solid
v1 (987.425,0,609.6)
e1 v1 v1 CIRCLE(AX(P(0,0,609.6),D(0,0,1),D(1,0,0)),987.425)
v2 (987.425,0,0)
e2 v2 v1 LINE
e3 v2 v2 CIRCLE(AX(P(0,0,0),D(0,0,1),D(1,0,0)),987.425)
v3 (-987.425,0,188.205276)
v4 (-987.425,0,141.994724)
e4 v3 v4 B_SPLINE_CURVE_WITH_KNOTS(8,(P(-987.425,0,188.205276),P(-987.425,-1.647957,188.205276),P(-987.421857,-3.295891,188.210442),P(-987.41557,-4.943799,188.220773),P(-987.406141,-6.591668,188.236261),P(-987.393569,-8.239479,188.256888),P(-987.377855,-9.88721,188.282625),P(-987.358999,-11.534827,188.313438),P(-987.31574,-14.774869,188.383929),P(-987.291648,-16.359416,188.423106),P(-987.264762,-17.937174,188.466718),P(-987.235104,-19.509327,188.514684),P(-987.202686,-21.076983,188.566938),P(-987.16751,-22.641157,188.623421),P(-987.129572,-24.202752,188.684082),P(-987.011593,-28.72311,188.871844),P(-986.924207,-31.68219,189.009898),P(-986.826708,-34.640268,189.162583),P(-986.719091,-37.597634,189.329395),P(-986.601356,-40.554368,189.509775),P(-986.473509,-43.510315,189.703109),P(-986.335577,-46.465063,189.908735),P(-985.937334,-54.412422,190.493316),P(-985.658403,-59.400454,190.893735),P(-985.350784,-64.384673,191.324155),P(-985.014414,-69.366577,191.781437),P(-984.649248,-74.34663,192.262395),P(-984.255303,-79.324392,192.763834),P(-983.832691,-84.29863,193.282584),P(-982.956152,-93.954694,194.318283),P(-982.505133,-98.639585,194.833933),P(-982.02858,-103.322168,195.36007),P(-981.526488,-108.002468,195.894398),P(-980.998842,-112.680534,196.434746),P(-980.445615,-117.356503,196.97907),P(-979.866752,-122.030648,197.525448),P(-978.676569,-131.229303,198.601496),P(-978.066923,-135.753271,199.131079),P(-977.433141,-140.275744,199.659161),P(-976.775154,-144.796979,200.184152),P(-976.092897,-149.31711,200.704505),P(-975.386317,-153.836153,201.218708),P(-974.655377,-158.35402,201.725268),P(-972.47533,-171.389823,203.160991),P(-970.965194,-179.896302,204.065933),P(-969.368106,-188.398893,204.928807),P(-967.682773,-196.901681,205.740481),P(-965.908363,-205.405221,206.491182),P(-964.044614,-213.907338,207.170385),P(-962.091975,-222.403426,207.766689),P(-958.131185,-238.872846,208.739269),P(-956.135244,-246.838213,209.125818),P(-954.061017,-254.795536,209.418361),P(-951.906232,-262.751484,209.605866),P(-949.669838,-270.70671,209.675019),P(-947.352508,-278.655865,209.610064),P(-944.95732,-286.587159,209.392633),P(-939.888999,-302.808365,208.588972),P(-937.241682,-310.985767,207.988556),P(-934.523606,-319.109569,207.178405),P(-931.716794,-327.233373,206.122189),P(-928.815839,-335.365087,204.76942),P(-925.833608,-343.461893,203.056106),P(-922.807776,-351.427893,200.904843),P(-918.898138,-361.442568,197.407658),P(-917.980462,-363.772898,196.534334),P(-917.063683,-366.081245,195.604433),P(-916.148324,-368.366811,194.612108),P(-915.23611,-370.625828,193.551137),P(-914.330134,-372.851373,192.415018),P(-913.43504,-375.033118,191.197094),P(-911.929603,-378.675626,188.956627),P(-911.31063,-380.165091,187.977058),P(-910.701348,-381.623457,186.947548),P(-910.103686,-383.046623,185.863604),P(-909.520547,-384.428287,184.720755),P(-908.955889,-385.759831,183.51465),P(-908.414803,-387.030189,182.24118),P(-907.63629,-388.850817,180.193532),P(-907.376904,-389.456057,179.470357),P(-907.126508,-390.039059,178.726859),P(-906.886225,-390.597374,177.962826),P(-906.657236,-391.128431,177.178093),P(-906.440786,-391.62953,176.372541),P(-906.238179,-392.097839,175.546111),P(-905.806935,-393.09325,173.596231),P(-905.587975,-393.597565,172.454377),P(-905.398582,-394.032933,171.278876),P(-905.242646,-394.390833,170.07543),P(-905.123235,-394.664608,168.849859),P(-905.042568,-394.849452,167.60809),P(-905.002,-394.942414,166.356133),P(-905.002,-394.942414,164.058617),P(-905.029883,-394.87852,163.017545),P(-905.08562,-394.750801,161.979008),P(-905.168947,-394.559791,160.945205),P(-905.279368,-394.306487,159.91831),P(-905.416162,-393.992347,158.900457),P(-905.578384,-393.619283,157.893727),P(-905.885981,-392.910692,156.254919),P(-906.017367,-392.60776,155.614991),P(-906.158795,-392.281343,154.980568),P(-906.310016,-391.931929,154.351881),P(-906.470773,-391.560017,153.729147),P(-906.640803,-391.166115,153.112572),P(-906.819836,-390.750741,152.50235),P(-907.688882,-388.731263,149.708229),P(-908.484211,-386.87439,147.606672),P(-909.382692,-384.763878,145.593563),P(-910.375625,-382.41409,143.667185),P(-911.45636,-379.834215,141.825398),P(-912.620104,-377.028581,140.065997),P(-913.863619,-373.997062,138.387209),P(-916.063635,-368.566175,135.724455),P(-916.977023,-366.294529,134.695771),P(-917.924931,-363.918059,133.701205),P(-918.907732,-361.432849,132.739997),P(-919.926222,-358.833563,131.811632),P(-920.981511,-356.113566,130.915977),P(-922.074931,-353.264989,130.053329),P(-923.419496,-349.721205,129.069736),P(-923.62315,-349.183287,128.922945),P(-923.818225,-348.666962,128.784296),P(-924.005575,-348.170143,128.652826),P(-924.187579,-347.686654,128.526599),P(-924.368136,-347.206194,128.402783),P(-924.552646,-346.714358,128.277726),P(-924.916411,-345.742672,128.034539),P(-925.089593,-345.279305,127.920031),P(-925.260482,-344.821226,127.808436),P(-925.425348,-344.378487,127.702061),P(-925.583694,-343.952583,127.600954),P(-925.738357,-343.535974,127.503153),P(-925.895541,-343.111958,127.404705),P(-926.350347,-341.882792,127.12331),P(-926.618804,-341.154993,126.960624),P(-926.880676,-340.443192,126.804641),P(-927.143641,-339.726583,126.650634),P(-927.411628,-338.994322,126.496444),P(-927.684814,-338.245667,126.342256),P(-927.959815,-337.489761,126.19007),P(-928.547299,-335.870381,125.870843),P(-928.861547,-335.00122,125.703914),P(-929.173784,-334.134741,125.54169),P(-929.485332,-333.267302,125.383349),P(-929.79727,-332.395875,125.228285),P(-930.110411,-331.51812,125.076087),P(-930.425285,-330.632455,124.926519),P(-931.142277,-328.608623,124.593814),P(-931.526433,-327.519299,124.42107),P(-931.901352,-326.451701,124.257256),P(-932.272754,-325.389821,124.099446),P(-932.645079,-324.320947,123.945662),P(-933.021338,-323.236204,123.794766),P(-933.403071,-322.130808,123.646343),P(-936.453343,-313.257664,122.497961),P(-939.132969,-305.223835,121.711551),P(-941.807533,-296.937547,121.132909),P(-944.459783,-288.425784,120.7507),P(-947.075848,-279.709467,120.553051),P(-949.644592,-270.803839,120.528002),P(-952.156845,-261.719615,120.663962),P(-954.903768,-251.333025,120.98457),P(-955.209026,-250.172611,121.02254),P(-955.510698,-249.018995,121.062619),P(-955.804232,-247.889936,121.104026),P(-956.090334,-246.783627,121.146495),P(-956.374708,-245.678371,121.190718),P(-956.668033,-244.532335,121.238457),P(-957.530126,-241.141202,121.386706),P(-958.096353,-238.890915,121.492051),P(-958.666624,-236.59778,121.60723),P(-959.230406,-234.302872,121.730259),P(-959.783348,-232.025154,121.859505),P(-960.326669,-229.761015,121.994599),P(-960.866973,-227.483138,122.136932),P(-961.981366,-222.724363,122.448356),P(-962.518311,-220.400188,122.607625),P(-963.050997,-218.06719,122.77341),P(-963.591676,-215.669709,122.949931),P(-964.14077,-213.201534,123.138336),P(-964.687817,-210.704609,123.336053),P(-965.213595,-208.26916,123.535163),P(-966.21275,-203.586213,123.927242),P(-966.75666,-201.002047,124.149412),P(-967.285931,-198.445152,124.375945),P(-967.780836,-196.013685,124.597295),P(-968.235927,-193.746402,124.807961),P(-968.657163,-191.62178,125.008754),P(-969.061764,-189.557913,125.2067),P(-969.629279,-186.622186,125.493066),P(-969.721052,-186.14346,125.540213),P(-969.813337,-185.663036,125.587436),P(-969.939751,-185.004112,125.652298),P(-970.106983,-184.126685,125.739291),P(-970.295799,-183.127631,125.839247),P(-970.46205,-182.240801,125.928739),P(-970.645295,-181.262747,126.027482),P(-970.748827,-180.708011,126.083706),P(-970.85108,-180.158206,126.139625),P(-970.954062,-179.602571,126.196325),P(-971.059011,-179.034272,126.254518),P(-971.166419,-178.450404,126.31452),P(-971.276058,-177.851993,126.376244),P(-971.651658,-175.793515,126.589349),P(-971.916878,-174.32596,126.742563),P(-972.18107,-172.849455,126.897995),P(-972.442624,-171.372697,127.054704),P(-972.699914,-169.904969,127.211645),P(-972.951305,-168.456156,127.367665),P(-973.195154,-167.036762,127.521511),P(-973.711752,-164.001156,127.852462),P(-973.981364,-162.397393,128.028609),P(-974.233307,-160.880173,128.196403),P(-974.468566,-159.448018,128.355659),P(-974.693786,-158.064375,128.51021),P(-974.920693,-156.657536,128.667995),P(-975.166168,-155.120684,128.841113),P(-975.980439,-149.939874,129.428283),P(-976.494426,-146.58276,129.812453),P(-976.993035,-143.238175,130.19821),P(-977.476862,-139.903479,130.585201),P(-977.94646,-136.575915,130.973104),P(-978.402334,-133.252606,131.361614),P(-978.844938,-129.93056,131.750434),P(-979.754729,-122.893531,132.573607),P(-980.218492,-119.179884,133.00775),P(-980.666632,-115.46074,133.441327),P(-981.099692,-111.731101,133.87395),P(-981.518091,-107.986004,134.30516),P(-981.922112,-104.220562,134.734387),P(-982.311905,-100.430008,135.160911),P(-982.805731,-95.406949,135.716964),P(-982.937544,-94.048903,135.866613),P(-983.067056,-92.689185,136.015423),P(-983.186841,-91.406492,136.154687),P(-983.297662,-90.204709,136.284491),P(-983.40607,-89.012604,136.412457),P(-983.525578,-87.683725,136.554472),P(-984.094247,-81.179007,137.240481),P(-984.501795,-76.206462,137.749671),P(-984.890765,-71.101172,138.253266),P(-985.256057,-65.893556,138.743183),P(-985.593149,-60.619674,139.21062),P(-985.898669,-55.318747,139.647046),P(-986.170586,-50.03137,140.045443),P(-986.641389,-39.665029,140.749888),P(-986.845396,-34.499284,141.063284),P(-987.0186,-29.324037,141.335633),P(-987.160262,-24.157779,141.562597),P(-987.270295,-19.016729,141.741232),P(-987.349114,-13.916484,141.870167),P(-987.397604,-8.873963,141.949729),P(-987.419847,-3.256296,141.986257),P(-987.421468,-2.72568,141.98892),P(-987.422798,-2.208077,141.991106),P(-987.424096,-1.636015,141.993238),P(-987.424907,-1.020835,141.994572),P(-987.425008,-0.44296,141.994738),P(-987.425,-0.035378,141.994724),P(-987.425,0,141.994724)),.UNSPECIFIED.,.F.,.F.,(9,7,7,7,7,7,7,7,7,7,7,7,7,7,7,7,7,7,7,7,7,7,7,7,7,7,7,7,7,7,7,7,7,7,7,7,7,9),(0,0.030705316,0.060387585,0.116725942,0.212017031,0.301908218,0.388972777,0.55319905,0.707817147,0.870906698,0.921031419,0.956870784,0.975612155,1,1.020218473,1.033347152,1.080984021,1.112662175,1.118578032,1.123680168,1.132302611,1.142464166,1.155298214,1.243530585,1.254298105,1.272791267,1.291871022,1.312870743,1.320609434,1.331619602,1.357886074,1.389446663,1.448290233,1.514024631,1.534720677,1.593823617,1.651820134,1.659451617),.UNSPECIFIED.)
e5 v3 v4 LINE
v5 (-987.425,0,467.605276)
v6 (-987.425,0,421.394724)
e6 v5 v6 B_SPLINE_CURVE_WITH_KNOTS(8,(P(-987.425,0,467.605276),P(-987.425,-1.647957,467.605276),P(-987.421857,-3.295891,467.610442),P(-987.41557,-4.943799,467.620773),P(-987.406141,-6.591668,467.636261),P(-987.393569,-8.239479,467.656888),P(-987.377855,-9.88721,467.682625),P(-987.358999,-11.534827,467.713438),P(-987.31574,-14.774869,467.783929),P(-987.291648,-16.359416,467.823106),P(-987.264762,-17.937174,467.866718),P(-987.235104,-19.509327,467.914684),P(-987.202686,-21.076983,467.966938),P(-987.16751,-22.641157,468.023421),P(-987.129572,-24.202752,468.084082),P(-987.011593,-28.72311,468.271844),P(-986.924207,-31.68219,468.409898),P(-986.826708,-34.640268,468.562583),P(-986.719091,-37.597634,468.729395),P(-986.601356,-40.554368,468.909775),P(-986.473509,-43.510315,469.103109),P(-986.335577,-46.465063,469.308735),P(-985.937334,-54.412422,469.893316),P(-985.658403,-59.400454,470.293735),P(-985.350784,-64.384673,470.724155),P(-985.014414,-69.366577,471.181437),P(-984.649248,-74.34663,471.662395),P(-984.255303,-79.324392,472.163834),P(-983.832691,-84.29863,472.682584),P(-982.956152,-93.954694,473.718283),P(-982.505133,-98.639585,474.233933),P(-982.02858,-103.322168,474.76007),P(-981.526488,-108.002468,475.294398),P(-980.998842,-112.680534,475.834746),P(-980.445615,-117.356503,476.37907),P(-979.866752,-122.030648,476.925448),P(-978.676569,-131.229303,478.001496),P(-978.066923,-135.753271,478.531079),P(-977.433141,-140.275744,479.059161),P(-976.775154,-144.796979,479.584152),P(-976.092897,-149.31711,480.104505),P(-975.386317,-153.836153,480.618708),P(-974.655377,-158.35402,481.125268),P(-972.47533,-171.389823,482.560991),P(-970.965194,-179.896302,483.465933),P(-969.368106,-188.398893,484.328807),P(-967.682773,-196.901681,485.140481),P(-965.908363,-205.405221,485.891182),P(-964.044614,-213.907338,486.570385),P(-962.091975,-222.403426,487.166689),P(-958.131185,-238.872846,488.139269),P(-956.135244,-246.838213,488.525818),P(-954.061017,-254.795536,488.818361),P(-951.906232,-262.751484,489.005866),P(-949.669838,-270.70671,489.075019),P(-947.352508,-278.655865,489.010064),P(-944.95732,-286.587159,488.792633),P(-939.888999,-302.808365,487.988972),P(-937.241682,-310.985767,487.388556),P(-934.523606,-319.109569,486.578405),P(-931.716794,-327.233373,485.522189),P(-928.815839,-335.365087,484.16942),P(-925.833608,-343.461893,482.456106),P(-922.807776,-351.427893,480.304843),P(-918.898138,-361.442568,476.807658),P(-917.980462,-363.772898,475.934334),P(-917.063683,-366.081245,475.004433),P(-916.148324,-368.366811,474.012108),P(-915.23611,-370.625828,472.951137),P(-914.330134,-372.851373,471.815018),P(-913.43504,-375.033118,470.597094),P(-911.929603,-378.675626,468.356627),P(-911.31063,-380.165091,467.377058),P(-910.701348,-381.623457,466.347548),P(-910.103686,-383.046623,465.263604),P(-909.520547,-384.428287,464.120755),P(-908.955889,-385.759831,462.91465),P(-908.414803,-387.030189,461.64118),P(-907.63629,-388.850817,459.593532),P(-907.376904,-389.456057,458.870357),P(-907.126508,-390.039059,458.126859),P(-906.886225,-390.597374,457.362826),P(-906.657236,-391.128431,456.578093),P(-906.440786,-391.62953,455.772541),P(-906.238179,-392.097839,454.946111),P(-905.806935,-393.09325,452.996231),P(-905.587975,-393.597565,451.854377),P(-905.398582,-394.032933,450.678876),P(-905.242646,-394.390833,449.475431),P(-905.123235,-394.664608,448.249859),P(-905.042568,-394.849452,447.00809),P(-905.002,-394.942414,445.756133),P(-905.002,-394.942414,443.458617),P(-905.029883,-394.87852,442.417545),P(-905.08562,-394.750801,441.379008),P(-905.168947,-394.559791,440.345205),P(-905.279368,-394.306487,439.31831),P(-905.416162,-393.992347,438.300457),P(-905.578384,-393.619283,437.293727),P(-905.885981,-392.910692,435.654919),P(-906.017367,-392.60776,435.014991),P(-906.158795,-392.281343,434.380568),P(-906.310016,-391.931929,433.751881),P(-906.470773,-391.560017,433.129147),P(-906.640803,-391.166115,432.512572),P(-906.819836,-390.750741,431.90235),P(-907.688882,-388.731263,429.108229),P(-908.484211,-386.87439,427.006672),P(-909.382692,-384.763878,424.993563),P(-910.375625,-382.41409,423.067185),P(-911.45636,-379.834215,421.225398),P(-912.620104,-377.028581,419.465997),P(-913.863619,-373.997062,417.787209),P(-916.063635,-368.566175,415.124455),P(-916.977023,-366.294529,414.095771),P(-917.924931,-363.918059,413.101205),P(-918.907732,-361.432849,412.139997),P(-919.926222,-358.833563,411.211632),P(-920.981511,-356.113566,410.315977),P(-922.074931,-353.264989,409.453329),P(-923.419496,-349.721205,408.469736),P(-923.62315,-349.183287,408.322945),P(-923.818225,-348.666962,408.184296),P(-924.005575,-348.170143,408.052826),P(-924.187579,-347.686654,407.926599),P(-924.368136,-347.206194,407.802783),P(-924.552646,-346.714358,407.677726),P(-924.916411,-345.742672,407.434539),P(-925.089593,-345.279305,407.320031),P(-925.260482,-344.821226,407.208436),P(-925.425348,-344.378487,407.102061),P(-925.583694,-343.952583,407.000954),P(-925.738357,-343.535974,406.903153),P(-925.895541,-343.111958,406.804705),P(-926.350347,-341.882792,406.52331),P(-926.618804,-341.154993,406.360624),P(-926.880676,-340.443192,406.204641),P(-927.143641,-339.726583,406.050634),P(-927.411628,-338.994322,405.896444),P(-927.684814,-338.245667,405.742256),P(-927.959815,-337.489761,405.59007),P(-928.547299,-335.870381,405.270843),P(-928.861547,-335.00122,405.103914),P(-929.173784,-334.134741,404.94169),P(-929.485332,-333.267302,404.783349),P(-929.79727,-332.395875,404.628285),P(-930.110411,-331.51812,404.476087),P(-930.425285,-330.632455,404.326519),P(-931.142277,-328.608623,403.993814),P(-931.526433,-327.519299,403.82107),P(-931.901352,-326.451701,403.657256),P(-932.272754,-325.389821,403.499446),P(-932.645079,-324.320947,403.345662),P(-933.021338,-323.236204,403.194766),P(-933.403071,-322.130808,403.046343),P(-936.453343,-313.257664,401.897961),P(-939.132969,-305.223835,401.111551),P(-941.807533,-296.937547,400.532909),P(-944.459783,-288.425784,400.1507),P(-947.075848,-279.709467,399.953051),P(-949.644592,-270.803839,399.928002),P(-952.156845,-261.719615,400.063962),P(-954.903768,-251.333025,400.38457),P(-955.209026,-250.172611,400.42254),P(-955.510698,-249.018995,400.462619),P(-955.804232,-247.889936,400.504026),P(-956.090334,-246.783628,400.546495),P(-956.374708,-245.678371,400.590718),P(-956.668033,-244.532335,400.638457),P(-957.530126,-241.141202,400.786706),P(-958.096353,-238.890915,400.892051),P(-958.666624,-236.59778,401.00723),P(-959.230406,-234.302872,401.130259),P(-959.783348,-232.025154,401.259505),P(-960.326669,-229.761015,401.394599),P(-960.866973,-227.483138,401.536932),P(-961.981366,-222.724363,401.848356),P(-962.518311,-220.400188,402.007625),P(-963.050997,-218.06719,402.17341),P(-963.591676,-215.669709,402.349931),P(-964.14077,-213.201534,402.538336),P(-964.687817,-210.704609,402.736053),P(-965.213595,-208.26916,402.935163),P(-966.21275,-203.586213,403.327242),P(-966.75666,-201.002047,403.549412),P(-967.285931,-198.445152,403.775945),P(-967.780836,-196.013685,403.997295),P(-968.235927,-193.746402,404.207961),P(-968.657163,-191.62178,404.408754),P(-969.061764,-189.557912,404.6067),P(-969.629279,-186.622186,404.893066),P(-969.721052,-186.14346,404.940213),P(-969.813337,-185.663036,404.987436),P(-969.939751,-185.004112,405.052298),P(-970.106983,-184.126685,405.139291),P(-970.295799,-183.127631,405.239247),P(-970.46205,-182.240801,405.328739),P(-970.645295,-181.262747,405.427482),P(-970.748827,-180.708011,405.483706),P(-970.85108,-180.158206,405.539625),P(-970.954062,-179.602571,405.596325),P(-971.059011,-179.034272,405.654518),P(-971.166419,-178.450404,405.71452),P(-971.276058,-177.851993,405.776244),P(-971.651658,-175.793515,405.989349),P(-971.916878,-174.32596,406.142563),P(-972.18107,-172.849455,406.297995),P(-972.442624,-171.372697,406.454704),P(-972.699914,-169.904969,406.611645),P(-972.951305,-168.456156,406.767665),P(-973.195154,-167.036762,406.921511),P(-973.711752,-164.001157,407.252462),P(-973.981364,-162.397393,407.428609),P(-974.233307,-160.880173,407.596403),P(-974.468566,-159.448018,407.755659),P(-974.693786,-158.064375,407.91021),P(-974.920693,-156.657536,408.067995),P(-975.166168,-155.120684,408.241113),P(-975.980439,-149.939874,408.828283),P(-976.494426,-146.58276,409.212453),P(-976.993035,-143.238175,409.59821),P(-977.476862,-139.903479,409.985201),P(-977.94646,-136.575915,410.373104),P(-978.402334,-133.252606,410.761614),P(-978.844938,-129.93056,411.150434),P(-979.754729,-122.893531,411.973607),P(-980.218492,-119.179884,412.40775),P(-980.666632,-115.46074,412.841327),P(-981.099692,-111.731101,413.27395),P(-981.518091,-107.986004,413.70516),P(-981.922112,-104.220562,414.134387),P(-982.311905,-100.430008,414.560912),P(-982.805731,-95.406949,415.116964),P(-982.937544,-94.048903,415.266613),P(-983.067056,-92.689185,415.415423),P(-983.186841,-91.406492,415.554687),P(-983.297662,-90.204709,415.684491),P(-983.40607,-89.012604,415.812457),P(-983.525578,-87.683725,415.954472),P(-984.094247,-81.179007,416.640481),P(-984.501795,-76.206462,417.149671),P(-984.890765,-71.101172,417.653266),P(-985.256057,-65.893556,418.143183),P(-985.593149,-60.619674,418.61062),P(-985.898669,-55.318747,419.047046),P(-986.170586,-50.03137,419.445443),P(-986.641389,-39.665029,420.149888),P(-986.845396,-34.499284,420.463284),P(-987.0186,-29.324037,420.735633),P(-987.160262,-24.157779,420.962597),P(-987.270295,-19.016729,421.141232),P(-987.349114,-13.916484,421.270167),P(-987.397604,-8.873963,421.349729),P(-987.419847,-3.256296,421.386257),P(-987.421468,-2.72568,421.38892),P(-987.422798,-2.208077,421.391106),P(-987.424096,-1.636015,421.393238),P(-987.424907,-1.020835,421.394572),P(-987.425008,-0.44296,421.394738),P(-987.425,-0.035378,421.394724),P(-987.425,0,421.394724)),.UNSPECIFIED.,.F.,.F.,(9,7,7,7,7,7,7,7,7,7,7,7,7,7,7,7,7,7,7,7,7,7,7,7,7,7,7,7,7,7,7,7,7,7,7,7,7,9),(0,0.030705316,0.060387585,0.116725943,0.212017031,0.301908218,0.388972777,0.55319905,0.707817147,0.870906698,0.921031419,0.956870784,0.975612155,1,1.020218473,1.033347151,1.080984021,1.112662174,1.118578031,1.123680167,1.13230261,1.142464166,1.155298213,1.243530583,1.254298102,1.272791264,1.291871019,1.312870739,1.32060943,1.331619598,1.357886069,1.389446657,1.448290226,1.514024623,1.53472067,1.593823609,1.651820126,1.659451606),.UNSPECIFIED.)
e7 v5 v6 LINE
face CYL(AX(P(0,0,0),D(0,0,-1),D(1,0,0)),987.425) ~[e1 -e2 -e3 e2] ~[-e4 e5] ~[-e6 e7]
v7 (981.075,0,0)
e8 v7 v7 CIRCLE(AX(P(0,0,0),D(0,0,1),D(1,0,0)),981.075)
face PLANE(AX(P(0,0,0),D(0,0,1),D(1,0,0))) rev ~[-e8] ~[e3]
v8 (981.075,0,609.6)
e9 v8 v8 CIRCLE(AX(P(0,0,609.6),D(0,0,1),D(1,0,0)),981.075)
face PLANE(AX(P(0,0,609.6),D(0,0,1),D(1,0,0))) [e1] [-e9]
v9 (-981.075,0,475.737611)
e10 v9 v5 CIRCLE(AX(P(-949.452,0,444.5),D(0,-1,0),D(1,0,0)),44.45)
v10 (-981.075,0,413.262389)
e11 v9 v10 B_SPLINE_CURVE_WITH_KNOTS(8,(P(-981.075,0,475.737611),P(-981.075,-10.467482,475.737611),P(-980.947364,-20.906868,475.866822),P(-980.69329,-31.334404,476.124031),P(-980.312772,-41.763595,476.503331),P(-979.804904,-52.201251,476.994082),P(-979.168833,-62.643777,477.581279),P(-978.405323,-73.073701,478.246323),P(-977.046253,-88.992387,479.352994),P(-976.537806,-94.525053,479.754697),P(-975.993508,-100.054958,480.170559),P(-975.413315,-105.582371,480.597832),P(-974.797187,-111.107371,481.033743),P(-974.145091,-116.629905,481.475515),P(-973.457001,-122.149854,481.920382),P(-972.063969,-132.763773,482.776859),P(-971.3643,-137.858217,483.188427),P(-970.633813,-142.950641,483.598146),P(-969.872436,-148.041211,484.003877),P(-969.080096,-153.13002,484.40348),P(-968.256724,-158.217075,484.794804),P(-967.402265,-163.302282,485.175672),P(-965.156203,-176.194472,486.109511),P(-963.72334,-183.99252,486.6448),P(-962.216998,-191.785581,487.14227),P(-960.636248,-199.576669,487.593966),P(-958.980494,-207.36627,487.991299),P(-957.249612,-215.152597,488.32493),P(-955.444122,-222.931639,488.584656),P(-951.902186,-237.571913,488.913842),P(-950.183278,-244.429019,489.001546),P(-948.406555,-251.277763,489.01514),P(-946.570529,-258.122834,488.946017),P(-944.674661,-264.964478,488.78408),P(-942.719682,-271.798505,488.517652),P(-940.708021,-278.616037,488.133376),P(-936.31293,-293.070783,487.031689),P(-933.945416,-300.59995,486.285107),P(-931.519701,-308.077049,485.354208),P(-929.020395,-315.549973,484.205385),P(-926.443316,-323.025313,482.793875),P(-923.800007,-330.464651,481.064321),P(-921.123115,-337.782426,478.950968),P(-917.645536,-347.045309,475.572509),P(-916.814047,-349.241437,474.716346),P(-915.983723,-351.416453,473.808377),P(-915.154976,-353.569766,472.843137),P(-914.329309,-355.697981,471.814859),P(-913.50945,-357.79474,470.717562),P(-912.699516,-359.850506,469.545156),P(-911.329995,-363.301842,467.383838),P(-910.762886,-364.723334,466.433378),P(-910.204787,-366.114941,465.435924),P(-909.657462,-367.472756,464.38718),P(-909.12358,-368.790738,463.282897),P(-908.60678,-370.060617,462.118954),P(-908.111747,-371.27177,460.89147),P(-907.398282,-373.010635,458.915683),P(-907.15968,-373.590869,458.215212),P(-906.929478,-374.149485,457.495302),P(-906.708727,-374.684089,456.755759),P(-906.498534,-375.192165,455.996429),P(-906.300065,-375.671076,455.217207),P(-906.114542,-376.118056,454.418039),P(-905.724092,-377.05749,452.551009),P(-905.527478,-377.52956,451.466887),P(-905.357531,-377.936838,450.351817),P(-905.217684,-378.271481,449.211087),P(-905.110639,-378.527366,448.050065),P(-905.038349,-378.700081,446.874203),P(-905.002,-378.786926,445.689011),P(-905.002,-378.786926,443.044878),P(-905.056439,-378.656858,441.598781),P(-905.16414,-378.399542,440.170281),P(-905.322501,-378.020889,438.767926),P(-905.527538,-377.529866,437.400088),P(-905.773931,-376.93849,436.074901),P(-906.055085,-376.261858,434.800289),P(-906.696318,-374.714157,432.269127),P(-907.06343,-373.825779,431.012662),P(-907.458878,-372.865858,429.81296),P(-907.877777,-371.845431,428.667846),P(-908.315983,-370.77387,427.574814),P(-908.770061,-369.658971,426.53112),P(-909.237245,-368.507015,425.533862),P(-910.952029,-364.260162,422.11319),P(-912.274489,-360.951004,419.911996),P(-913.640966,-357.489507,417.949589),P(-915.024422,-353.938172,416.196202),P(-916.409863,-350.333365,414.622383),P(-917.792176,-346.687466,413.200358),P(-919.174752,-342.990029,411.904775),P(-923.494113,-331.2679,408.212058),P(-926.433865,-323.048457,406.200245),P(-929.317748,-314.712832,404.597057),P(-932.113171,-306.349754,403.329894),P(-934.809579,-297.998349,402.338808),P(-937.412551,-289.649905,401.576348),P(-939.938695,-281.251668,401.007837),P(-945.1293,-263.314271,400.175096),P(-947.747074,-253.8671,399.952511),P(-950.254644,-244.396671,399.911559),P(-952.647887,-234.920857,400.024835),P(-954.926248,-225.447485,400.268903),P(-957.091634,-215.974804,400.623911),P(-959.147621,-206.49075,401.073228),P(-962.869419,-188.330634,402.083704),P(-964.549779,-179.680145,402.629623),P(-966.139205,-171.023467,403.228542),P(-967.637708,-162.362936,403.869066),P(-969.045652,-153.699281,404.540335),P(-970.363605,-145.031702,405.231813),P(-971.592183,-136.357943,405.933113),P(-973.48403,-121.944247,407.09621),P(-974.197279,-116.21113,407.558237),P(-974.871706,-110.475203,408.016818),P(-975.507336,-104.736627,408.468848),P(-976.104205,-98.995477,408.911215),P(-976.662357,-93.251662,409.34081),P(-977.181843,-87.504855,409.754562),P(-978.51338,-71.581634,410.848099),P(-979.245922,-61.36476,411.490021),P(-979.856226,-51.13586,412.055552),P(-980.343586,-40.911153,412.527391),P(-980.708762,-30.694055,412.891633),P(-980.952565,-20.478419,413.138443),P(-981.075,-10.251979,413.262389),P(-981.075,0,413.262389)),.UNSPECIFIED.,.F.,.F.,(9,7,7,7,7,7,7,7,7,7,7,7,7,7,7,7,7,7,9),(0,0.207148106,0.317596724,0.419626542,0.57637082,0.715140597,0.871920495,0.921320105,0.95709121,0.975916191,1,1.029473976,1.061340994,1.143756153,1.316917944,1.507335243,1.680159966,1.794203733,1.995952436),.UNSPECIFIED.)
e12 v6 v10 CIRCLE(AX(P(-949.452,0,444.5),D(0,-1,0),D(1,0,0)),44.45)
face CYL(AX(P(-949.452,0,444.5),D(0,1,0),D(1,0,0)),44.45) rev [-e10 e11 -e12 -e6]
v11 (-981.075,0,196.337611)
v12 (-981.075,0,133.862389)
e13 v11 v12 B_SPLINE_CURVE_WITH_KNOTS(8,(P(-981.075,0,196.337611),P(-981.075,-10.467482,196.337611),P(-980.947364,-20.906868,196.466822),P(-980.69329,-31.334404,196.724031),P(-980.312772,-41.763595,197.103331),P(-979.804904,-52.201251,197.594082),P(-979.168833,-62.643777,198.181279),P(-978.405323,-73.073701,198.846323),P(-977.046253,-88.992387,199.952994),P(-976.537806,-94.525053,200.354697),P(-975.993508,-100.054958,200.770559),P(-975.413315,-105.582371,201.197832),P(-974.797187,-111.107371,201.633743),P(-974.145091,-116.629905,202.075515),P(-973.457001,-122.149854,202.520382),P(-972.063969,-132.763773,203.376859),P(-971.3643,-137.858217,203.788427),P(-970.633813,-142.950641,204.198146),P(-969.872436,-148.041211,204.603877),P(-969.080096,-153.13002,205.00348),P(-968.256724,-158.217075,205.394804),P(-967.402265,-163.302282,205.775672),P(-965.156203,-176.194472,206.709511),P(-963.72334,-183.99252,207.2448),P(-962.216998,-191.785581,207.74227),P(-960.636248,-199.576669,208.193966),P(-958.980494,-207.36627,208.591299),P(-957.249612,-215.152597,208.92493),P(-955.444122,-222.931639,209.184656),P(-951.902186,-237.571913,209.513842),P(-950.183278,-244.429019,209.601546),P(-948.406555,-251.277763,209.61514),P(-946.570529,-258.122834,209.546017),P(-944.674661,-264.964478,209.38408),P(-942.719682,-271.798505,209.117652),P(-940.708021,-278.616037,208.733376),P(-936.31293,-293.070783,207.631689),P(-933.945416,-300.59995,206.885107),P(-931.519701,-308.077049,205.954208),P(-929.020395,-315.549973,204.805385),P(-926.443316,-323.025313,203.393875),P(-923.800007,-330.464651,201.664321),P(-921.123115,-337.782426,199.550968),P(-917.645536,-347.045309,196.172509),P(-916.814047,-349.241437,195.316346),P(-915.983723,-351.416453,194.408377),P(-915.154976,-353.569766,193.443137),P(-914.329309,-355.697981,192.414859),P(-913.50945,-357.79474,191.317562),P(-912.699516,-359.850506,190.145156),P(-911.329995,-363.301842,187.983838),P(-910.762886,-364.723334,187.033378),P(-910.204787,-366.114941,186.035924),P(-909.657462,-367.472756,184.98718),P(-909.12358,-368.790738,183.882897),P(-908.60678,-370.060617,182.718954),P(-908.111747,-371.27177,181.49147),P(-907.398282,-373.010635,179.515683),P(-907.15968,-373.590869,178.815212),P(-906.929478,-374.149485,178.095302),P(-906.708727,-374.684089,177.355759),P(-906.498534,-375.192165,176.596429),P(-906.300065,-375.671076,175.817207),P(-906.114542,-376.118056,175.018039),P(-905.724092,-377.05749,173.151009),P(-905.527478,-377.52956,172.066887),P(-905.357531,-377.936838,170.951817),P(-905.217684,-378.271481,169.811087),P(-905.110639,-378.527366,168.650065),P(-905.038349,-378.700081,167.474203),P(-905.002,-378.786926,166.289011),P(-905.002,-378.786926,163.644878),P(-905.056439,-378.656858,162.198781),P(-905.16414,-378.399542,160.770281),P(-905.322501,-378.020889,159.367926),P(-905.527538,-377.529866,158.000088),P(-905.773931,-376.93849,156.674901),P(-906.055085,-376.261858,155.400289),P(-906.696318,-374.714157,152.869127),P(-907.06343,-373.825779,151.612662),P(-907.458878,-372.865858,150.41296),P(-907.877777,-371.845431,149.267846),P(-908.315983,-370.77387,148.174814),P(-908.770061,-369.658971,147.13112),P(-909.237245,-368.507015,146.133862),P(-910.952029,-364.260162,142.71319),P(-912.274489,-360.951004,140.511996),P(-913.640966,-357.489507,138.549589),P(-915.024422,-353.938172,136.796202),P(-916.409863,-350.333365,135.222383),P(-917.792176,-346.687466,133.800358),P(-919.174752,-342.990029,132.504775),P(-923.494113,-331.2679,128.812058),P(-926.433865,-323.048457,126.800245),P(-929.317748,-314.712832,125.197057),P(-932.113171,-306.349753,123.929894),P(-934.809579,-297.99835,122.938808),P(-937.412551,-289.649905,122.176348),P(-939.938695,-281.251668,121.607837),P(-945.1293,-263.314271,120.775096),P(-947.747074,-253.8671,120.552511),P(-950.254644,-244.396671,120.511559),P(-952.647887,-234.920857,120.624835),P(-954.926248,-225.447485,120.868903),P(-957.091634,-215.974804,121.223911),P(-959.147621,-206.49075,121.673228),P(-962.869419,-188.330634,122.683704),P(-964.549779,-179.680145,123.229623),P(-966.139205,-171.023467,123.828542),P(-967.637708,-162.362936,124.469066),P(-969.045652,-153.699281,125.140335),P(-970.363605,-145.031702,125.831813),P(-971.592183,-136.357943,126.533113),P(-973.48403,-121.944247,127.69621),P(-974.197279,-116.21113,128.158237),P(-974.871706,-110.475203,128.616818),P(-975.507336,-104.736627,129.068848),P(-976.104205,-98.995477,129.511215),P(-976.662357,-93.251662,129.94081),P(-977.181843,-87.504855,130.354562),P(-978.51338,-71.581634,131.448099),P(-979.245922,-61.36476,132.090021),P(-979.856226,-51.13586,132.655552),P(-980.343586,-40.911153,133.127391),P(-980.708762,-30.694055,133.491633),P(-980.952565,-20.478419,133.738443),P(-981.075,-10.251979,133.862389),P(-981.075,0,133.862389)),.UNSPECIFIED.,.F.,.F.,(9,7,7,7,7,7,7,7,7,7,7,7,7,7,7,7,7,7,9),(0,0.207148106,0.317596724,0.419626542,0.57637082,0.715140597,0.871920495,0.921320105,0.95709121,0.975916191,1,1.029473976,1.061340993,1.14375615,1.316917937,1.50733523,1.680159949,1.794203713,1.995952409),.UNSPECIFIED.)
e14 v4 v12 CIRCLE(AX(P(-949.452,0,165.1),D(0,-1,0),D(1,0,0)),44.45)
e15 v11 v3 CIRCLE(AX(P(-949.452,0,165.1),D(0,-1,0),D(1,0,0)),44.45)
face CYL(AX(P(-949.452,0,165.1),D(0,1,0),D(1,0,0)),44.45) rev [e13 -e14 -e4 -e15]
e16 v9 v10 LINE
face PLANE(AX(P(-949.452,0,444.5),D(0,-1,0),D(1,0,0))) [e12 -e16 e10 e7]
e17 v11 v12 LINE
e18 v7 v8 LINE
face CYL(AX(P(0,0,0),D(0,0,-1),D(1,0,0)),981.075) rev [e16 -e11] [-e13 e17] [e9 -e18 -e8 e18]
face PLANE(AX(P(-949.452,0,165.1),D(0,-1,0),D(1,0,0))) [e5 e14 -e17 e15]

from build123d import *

# Parameters (mm, degrees)
F0_R     = 987.425
F0_R_2   = 981.075
F1_DEPTH = 609.6
F2_R     = 44.45
F3_DEPTH = 987.426


with BuildPart() as f1:
    # F0 (on Top) → F1 (new body)
    with BuildSketch(Plane.XY):
        Circle(F0_R)
        Circle(F0_R_2, mode=Mode.SUBTRACT)
    extrude(amount=F1_DEPTH)

    # F2 (on Front) → F3 (cut, through all)
    with BuildSketch(Plane.XZ):
        with Locations((-949.452, 444.5)):
            Circle(F2_R)
        with Locations((-949.452, 165.1)):
            Circle(F2_R)
    extrude(amount=F3_DEPTH, mode=Mode.SUBTRACT)


solid = f1.part
